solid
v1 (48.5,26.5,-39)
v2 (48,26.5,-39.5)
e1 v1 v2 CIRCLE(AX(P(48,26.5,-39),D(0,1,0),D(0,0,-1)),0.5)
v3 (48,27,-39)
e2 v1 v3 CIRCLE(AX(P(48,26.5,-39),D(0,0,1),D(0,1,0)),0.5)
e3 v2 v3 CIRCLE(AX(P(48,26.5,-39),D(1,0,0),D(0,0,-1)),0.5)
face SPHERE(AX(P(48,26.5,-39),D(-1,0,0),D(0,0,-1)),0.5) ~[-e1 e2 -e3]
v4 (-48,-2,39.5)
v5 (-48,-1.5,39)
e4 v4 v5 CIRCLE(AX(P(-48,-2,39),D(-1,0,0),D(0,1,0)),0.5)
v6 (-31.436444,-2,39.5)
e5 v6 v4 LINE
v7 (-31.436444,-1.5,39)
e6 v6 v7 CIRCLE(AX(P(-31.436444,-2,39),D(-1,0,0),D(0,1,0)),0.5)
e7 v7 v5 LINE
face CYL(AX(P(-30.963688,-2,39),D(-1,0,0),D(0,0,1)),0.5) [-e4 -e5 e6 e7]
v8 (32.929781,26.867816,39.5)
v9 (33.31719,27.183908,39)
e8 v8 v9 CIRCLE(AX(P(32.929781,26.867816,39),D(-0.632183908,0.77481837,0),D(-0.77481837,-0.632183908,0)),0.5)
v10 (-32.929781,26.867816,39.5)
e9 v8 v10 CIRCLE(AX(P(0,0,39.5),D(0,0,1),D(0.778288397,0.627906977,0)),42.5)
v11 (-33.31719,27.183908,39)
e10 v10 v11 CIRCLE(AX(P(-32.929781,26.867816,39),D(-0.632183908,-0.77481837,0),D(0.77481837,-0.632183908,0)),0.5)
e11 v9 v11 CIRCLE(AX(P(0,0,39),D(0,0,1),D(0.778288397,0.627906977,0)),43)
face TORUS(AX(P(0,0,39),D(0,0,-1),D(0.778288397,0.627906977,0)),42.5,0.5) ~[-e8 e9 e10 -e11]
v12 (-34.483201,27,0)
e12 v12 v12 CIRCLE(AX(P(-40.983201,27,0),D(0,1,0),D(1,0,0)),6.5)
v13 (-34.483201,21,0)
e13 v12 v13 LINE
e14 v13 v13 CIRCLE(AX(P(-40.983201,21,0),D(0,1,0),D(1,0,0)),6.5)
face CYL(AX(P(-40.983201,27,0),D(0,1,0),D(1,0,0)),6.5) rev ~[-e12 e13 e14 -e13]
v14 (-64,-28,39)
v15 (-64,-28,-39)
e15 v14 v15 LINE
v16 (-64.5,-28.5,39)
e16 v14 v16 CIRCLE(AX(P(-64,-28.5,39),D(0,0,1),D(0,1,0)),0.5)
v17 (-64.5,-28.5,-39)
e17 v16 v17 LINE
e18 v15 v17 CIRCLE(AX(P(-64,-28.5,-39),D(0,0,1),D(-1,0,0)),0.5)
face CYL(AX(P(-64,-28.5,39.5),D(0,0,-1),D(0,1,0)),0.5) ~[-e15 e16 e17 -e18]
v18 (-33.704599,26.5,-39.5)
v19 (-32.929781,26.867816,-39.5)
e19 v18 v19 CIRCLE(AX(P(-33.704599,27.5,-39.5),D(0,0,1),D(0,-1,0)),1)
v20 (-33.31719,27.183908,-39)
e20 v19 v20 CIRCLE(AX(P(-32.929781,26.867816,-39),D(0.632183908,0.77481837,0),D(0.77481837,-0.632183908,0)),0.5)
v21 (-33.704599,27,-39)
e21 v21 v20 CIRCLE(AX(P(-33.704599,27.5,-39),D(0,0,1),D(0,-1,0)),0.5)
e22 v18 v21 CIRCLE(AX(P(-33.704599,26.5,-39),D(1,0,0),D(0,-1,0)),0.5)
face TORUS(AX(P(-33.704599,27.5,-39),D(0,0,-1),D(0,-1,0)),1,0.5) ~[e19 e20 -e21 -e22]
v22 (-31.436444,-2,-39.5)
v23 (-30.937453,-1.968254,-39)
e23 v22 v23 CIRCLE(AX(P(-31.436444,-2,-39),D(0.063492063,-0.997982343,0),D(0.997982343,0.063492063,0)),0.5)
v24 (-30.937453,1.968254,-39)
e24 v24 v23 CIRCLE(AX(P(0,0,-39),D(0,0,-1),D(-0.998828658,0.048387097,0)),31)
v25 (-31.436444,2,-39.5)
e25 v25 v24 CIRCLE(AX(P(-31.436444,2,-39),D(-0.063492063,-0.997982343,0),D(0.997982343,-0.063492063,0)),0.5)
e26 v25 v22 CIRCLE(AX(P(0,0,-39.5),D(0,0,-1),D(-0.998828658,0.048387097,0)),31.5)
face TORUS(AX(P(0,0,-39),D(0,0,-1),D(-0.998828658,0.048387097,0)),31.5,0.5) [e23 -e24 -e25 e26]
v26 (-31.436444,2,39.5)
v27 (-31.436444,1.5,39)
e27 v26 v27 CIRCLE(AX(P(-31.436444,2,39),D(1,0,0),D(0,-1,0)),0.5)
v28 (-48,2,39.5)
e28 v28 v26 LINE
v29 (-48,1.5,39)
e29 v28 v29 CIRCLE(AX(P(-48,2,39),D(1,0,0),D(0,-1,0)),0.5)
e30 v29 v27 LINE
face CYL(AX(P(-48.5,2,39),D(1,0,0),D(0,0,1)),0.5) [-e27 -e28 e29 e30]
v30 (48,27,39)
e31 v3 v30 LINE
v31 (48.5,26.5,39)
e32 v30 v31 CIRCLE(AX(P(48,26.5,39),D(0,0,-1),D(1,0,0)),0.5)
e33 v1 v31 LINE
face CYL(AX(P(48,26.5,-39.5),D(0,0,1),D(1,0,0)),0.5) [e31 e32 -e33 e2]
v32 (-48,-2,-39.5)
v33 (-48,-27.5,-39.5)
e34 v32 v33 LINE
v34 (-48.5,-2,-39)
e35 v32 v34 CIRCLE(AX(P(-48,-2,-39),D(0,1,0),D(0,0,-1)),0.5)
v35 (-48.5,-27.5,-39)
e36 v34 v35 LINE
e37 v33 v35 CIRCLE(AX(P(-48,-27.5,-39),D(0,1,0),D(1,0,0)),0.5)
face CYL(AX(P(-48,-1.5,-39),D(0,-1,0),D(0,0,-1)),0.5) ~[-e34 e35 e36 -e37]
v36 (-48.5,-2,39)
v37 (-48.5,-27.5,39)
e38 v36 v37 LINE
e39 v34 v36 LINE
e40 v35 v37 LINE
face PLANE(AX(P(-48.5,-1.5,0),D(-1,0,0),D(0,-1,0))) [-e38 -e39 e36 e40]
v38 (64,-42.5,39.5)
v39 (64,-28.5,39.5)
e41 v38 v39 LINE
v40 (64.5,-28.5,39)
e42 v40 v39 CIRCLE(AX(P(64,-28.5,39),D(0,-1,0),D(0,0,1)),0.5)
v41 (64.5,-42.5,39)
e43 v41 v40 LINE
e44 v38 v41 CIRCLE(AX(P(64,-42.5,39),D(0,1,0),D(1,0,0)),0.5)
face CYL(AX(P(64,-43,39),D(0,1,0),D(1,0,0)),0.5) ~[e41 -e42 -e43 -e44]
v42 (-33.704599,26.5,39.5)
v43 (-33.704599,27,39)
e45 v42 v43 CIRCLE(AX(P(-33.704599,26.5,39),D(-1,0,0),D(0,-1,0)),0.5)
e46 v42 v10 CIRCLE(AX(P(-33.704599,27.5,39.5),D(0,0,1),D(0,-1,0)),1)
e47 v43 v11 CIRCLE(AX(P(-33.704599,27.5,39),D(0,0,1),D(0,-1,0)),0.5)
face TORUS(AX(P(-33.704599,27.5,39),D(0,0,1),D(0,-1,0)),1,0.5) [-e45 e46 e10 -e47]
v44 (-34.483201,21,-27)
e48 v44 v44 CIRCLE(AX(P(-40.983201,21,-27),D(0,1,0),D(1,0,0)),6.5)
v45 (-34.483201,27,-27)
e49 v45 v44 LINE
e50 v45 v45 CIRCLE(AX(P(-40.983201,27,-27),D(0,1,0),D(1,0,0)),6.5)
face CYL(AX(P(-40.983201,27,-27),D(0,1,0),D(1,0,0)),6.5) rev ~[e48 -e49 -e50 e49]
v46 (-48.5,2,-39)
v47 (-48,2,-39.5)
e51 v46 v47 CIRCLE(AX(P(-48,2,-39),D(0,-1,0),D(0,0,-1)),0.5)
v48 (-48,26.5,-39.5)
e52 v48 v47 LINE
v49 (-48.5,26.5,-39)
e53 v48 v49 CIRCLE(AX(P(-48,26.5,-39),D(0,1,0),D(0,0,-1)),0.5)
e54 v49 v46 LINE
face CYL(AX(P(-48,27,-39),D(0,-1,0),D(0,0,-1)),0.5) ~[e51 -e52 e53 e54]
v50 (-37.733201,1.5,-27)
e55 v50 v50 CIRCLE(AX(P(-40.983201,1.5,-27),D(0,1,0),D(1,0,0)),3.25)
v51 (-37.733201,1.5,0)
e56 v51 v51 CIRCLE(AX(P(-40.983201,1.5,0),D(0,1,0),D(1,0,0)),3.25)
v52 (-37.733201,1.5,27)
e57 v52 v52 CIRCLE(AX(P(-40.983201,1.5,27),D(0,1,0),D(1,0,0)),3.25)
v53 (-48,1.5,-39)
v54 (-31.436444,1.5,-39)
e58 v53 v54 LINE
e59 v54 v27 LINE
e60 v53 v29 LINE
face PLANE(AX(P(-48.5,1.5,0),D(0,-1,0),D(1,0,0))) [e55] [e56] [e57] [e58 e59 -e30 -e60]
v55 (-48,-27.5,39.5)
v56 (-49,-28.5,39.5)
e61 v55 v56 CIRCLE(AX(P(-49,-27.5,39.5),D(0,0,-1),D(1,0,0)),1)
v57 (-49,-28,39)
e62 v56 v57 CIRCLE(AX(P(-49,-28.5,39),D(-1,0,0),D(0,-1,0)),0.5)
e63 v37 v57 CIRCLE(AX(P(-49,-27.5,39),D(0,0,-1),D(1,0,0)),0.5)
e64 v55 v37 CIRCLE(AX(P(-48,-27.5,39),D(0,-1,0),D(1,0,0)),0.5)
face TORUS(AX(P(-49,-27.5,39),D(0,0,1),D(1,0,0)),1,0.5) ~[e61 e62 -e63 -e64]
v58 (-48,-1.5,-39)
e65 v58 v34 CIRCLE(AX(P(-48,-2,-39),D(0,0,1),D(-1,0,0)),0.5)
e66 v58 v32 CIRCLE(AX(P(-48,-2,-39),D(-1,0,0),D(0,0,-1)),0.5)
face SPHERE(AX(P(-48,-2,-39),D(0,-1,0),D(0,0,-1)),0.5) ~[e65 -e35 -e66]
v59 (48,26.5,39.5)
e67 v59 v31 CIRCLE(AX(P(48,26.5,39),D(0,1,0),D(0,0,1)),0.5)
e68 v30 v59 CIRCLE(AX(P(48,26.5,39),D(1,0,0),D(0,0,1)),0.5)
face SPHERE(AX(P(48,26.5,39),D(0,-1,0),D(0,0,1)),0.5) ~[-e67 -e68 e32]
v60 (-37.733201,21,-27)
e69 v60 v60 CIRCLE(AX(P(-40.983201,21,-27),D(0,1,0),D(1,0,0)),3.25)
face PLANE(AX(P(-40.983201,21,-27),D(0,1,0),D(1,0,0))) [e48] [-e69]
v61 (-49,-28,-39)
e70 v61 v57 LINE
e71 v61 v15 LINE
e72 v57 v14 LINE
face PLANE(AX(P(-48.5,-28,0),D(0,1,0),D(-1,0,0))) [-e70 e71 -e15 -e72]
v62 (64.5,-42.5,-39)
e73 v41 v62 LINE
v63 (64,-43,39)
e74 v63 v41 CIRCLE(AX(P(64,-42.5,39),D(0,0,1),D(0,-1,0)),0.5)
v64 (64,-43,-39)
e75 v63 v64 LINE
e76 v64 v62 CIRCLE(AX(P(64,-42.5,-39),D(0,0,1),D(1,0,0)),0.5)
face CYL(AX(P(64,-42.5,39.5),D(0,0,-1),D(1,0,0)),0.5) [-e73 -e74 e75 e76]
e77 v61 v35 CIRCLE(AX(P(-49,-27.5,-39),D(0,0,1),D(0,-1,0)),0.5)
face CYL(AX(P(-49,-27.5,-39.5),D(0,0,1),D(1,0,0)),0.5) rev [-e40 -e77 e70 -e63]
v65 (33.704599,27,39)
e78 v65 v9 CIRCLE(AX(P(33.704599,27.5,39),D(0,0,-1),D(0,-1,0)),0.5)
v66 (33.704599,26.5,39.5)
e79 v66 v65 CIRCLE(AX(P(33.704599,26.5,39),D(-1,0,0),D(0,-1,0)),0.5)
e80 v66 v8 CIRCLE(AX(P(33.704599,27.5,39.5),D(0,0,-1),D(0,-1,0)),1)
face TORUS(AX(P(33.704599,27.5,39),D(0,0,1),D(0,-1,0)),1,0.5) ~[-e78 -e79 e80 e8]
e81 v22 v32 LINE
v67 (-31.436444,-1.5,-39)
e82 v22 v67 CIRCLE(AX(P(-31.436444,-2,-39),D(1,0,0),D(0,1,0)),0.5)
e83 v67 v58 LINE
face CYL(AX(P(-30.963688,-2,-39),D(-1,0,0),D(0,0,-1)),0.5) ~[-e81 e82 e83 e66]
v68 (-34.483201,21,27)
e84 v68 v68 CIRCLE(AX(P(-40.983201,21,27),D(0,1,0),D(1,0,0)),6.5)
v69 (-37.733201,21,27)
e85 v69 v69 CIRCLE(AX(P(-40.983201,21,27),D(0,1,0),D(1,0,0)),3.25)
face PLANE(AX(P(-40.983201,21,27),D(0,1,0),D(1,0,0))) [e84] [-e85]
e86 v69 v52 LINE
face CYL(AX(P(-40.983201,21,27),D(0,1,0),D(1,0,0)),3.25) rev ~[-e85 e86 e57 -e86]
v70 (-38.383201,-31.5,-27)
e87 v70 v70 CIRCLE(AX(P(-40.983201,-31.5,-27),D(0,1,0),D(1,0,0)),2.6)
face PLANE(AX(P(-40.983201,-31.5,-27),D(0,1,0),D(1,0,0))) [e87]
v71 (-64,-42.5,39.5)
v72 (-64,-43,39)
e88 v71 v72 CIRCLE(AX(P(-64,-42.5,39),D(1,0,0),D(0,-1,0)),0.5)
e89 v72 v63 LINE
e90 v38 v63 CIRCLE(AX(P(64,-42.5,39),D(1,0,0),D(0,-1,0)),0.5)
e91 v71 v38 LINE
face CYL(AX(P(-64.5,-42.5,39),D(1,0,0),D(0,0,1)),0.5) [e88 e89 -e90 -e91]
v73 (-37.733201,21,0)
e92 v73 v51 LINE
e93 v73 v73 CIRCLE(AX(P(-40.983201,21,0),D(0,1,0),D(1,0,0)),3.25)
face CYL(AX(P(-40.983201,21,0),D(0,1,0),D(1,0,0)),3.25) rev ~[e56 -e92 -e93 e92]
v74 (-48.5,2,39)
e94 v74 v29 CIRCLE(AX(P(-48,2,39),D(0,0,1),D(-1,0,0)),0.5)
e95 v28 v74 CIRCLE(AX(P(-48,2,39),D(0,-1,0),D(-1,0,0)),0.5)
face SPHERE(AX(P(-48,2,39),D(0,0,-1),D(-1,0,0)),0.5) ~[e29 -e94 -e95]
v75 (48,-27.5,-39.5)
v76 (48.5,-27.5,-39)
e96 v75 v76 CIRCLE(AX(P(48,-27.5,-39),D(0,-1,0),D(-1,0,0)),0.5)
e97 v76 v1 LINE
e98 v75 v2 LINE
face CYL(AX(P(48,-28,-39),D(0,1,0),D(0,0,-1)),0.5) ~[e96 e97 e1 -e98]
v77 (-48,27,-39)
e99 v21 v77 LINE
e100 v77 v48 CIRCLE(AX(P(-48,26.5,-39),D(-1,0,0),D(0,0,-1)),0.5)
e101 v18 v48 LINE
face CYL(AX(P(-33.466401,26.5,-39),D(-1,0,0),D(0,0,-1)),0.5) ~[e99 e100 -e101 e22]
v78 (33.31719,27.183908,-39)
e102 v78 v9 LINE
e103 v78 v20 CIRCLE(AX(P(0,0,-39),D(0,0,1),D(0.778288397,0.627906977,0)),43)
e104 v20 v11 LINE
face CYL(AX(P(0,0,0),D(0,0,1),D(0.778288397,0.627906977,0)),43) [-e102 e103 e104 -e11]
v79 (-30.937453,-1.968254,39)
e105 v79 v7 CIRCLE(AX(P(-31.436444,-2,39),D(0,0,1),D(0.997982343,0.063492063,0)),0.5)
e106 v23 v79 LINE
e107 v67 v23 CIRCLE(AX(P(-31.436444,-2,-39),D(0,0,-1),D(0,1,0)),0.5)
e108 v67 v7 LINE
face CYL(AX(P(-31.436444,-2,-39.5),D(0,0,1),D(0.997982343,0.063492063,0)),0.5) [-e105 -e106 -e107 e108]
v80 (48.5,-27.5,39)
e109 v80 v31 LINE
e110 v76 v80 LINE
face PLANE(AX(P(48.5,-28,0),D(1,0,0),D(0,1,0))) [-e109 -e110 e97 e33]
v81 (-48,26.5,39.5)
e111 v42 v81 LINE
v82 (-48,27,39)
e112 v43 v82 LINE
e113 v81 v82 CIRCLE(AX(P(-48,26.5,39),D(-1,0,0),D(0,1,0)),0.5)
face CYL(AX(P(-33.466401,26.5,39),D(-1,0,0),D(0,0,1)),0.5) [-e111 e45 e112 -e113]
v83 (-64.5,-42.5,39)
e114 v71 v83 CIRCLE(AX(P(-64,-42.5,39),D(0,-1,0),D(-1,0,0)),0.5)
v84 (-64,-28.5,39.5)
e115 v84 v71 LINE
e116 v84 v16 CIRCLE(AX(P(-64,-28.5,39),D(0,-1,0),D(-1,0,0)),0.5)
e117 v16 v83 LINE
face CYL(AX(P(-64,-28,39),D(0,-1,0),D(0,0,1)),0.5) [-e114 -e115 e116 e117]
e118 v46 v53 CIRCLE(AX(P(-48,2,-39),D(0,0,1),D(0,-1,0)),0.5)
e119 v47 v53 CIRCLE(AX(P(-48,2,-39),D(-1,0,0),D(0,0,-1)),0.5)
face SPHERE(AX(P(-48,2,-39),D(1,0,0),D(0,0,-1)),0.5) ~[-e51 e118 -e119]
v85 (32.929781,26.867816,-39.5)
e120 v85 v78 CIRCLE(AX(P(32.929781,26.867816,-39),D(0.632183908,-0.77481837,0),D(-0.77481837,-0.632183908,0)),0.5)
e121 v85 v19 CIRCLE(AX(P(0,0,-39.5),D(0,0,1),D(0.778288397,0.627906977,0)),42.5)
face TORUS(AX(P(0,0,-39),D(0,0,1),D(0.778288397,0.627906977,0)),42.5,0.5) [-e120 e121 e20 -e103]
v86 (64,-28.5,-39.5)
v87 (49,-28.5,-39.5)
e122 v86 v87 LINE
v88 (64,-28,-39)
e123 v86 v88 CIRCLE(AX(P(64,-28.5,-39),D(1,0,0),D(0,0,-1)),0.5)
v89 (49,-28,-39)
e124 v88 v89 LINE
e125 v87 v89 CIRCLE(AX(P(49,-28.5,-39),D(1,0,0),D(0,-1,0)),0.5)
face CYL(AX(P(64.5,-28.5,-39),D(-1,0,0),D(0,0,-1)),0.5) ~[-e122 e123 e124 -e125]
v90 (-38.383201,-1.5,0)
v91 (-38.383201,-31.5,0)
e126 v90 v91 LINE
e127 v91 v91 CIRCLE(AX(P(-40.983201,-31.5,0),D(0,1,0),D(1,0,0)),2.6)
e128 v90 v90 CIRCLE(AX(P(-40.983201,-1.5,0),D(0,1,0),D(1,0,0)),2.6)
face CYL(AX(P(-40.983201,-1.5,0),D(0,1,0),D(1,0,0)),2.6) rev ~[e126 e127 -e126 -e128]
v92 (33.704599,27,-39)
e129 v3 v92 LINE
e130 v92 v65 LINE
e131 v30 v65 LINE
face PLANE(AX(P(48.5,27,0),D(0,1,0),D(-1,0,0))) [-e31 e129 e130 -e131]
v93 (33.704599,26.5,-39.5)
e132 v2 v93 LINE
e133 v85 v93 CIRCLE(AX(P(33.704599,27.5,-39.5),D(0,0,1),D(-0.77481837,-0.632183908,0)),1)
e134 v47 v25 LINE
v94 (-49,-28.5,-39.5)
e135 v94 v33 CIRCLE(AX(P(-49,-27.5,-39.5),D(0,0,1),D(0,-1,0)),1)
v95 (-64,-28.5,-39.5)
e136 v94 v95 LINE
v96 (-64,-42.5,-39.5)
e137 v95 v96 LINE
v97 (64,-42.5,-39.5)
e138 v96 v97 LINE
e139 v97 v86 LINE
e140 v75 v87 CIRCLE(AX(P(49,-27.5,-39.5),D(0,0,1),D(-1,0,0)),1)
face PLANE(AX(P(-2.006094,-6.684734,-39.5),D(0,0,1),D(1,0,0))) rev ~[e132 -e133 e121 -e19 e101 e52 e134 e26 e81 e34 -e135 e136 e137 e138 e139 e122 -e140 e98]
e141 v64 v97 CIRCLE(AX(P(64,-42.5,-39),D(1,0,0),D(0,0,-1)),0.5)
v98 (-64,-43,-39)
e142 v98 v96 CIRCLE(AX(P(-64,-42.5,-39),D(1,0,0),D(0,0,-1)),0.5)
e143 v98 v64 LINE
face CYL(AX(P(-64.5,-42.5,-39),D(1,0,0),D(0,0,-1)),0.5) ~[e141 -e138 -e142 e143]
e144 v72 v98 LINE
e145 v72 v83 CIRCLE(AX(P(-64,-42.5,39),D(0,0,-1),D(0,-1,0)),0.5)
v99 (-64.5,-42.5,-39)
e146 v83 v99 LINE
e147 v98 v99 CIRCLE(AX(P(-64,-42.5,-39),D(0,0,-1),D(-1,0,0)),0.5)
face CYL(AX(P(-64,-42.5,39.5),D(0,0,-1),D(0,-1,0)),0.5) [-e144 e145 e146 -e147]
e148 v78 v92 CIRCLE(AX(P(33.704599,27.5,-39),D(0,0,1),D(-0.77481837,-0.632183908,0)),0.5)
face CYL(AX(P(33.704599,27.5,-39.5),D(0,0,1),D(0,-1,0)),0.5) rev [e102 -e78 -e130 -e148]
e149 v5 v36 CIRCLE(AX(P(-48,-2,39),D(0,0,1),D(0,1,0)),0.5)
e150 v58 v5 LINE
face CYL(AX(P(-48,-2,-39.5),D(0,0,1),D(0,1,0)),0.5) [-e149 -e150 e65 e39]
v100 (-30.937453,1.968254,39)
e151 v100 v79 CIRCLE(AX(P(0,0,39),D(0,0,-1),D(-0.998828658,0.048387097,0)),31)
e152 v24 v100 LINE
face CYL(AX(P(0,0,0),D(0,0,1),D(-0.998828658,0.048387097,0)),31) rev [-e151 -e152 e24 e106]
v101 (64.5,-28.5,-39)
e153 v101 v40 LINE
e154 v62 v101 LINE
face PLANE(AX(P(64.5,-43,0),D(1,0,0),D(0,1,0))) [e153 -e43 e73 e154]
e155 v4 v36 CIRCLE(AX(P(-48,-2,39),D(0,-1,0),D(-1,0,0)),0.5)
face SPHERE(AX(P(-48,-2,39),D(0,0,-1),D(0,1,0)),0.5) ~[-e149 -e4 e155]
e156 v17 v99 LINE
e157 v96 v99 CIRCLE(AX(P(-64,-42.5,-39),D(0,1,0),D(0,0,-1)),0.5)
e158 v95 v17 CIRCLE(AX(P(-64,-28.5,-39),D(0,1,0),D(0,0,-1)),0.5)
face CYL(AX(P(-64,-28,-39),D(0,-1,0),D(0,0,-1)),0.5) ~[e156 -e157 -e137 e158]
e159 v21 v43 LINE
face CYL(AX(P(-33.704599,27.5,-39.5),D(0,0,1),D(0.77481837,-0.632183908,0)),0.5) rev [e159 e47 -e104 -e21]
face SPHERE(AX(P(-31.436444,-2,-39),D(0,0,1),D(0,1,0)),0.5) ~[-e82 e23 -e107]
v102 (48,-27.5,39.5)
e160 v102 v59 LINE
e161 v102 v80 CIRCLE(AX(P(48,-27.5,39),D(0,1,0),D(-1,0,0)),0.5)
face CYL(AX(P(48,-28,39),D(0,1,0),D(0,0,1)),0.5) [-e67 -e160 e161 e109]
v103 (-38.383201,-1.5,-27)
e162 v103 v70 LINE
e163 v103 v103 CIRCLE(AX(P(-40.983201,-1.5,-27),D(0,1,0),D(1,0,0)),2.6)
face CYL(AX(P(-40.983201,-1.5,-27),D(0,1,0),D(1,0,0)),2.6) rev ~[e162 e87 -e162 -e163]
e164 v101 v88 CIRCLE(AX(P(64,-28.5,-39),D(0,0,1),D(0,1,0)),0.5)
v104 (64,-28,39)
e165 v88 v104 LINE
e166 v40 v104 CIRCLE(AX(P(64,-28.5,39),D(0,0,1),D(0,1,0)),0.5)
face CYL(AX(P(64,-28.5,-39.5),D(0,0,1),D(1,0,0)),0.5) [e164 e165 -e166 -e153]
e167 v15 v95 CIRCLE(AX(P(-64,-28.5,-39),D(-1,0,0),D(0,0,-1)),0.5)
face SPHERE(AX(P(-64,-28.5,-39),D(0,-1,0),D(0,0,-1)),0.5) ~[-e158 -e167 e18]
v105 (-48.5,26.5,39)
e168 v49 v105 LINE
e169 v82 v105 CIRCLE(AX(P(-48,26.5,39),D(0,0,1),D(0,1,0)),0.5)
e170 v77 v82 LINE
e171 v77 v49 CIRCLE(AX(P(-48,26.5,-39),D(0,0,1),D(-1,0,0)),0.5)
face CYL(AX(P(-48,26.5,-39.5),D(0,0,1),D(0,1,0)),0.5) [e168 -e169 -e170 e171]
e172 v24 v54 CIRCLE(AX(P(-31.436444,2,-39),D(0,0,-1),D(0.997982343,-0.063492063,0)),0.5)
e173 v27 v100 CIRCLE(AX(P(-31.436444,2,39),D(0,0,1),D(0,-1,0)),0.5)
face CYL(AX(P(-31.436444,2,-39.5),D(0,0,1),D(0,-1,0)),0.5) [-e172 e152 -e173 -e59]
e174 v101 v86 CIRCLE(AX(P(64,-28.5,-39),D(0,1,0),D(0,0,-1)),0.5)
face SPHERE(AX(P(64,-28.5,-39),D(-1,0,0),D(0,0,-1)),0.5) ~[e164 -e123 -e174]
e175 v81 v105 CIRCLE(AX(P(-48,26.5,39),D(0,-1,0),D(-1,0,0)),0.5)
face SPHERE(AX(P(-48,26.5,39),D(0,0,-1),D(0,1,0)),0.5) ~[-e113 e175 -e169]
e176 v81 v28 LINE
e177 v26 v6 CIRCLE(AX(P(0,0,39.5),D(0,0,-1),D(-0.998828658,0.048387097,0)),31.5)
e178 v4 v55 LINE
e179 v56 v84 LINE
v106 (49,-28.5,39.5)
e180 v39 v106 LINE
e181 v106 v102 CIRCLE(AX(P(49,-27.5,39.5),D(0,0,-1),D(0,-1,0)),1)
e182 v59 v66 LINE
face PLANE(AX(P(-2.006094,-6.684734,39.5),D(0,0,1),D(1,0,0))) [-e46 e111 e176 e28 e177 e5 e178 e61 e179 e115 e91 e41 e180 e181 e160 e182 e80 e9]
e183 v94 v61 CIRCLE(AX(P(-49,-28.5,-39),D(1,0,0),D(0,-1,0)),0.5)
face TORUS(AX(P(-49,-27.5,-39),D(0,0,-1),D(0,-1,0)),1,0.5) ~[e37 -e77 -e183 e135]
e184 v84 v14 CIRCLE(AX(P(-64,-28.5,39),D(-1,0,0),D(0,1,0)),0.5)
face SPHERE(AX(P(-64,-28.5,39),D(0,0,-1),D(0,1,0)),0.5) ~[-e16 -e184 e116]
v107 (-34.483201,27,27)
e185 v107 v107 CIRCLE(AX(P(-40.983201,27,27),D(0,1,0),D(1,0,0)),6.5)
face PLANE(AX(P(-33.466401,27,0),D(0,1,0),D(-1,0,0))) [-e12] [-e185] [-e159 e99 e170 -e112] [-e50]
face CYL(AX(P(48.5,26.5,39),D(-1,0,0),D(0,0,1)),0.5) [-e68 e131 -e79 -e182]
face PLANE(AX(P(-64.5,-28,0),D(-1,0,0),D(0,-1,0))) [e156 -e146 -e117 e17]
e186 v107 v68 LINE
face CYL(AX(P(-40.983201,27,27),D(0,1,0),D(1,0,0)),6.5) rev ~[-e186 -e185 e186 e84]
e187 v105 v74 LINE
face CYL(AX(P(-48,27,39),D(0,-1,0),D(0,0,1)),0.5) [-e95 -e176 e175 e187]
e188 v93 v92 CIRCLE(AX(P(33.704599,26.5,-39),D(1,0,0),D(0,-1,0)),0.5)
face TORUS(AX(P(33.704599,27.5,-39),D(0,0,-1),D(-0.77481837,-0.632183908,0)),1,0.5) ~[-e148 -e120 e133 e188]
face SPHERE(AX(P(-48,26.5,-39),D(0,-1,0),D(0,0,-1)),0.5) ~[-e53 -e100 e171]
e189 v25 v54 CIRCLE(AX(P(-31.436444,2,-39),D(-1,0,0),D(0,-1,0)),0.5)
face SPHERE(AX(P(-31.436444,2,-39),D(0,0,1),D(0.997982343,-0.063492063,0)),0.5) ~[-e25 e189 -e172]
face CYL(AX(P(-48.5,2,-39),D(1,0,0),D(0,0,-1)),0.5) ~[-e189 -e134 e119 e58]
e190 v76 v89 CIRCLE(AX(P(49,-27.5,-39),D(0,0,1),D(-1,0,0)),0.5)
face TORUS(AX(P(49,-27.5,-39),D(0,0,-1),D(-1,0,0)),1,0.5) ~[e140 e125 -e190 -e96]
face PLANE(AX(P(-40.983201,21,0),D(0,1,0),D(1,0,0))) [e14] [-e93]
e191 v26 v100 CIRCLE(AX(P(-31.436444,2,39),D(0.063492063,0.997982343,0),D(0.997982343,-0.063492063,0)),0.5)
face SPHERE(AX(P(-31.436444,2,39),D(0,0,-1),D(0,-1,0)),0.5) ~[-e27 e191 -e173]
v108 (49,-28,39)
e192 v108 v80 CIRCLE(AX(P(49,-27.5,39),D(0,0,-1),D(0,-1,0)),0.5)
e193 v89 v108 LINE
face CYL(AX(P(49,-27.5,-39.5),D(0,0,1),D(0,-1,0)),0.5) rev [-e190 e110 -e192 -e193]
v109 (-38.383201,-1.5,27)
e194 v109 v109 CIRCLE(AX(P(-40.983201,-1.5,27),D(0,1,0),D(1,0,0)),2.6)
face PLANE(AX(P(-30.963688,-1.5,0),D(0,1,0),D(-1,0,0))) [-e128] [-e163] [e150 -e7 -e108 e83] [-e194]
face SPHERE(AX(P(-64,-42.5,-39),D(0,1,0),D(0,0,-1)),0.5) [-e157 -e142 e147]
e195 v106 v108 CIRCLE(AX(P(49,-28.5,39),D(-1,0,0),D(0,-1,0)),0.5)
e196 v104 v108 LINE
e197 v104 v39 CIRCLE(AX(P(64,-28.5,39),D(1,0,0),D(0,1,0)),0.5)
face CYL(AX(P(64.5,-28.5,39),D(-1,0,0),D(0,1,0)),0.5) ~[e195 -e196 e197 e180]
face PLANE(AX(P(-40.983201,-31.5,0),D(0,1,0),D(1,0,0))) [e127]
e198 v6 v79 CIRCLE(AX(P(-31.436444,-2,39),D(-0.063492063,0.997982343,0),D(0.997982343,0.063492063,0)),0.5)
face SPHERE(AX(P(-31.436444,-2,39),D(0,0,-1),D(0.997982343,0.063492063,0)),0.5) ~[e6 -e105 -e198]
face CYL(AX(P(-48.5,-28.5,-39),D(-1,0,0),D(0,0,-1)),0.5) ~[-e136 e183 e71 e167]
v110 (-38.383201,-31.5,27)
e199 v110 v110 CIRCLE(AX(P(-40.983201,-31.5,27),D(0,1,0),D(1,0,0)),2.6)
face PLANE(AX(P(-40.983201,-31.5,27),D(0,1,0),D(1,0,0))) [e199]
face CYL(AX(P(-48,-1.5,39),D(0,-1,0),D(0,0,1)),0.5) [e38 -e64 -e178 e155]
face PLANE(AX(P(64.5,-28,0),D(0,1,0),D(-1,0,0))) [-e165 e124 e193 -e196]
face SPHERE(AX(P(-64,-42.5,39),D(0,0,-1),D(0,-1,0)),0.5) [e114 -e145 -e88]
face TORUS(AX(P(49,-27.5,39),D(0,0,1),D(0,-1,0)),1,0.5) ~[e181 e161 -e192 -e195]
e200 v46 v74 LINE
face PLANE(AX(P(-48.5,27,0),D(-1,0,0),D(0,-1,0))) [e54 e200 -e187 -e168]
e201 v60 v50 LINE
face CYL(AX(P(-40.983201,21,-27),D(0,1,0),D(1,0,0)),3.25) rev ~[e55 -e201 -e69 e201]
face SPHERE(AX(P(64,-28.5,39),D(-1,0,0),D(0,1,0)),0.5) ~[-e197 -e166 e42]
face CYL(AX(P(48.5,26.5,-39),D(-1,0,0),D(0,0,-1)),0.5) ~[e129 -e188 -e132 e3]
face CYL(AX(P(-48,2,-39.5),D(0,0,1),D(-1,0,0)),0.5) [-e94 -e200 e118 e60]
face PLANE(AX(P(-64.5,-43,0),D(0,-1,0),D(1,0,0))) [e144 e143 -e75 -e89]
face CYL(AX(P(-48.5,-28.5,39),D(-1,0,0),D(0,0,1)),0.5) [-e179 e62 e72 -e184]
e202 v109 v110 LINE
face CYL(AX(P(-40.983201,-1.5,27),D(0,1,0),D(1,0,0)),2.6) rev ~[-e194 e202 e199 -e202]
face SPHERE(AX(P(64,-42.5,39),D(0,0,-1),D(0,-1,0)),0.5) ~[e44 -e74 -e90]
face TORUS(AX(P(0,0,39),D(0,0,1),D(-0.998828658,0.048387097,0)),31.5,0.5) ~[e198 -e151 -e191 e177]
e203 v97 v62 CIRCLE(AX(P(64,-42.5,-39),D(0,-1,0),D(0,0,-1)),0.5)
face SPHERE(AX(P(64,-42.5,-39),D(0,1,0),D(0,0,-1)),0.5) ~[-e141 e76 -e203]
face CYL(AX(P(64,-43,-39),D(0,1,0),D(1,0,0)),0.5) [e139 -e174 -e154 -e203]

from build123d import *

# Parameters (mm, degrees)
EXTRUDE_1_DEPTH     = 39.5
SKETCH_2_R          = 6.5
CUT_EXTRUDE_1_DEPTH = 6
SKETCH_3_R          = 3.25
CUT_EXTRUDE_2_DEPTH = 22.5
SKETCH_4_R          = 2.6
CUT_EXTRUDE_3_DEPTH = 30
FILLET_1_R          = 0.5


with BuildPart() as part:
    # Эскиз1 → Бобышка-Вытянуть1 (new body, symmetric)
    with BuildSketch(Plane.XY):
        with BuildLine():
            Line((64.5, -43), (64.5, -28))
            Line((64.5, -28), (48.5, -28))
            Line((48.5, -28), (48.5, 27))
            Line((48.5, 27), (33.466401061, 27))
            ThreePointArc((33.466401061, 27), (0, 43), (-33.466401061, 27))
            Line((-33.466401061, 27), (-48.5, 27))
            Line((-48.5, 27), (-48.5, 1.5))
            Line((-48.5, 1.5), (-30.963688411, 1.5))
            ThreePointArc((-30.963688411, 1.5), (31, 0), (-30.963688411, -1.5))
            Line((-30.963688411, -1.5), (-48.5, -1.5))
            Line((-48.5, -1.5), (-48.5, -28))
            Line((-48.5, -28), (-64.5, -28))
            Line((-64.5, -28), (-64.5, -43))
            Line((-64.5, -43), (64.5, -43))
        make_face()
    extrude(amount=EXTRUDE_1_DEPTH, both=True)

    # Эскиз2 → Вырез-Вытянуть1 (cut)
    with BuildSketch(Plane(origin=(0, 27, 0), x_dir=(1, 0, 0), z_dir=(0, 1, 0))):
        with Locations((-40.983200531, 27)):
            Circle(SKETCH_2_R)
        with Locations((-40.983200531, 0)):
            Circle(SKETCH_2_R)
        with Locations((-40.983200531, -27)):
            Circle(SKETCH_2_R)
    extrude(amount=-CUT_EXTRUDE_1_DEPTH, mode=Mode.SUBTRACT)

    # Эскиз3 → Вырез-Вытянуть2 (cut)
    with BuildSketch(Plane(origin=(0, 21, 0), x_dir=(1, 0, 0), z_dir=(0, 1, 0))):
        with Locations((-40.983200531, 27)):
            Circle(SKETCH_3_R)
        with Locations((-40.983200531, 0)):
            Circle(SKETCH_3_R)
        with Locations((-40.983200531, -27)):
            Circle(SKETCH_3_R)
    extrude(amount=-CUT_EXTRUDE_2_DEPTH, mode=Mode.SUBTRACT)

    # Эскиз4 → Вырез-Вытянуть3 (cut)
    with BuildSketch(Plane(origin=(0, -1.5, 0), x_dir=(1, 0, 0), z_dir=(0, 1, 0))):
        with Locations((-40.983200531, 27)):
            Circle(SKETCH_4_R)
        with Locations((-40.983200531, 0)):
            Circle(SKETCH_4_R)
        with Locations((-40.983200531, -27)):
            Circle(SKETCH_4_R)
    extrude(amount=-CUT_EXTRUDE_3_DEPTH, mode=Mode.SUBTRACT)

    # Скругление1
    fillet_1_edges = [part.edges().sort_by_distance(p)[0] for p in [
        (56.5, -28, 39.5),
        (-64.5, -35.5, -39.5),
        (-56.5, -28, -39.5),
        (-48.5, -14.75, -39.5),
        (-39.731844205, -1.5, -39.5),
        (31, 0, -39.5),
        (48.5, -0.5, 39.5),
        (-39.731844205, 1.5, -39.5),
        (-48.5, 14.25, -39.5),
        (-40.983200531, 27, -39.5),
        (0, 43, -39.5),
        (40.983200531, 27, -39.5),
        (48.5, -0.5, -39.5),
        (56.5, -28, -39.5),
        (64.5, -35.5, -39.5),
        (40.983200531, 27, 39.5),
        (0, -43, -39.5),
        (0, 43, 39.5),
        (-64.5, -43, 0),
        (-64.5, -28, 0),
        (-48.5, -28, 0),
        (-48.5, -1.5, 0),
        (-30.963688411, -1.5, 0),
        (-30.963688411, 1.5, 0),
        (-48.5, 1.5, 0),
        (-48.5, 27, 0),
        (-33.466401061, 27, 0),
        (33.466401061, 27, 0),
        (48.5, 27, 0),
        (48.5, -28, 0),
        (64.5, -28, 0),
        (64.5, -43, 0),
        (-40.983200531, 27, 39.5),
        (-48.5, 14.25, 39.5),
        (-39.731844205, 1.5, 39.5),
        (0, -43, 39.5),
        (31, 0, 39.5),
        (-39.731844205, -1.5, 39.5),
        (-48.5, -14.75, 39.5),
        (-56.5, -28, 39.5),
        (-64.5, -35.5, 39.5),
        (64.5, -35.5, 39.5),
    ]]
    fillet(fillet_1_edges, radius=FILLET_1_R)


solid = part.part
